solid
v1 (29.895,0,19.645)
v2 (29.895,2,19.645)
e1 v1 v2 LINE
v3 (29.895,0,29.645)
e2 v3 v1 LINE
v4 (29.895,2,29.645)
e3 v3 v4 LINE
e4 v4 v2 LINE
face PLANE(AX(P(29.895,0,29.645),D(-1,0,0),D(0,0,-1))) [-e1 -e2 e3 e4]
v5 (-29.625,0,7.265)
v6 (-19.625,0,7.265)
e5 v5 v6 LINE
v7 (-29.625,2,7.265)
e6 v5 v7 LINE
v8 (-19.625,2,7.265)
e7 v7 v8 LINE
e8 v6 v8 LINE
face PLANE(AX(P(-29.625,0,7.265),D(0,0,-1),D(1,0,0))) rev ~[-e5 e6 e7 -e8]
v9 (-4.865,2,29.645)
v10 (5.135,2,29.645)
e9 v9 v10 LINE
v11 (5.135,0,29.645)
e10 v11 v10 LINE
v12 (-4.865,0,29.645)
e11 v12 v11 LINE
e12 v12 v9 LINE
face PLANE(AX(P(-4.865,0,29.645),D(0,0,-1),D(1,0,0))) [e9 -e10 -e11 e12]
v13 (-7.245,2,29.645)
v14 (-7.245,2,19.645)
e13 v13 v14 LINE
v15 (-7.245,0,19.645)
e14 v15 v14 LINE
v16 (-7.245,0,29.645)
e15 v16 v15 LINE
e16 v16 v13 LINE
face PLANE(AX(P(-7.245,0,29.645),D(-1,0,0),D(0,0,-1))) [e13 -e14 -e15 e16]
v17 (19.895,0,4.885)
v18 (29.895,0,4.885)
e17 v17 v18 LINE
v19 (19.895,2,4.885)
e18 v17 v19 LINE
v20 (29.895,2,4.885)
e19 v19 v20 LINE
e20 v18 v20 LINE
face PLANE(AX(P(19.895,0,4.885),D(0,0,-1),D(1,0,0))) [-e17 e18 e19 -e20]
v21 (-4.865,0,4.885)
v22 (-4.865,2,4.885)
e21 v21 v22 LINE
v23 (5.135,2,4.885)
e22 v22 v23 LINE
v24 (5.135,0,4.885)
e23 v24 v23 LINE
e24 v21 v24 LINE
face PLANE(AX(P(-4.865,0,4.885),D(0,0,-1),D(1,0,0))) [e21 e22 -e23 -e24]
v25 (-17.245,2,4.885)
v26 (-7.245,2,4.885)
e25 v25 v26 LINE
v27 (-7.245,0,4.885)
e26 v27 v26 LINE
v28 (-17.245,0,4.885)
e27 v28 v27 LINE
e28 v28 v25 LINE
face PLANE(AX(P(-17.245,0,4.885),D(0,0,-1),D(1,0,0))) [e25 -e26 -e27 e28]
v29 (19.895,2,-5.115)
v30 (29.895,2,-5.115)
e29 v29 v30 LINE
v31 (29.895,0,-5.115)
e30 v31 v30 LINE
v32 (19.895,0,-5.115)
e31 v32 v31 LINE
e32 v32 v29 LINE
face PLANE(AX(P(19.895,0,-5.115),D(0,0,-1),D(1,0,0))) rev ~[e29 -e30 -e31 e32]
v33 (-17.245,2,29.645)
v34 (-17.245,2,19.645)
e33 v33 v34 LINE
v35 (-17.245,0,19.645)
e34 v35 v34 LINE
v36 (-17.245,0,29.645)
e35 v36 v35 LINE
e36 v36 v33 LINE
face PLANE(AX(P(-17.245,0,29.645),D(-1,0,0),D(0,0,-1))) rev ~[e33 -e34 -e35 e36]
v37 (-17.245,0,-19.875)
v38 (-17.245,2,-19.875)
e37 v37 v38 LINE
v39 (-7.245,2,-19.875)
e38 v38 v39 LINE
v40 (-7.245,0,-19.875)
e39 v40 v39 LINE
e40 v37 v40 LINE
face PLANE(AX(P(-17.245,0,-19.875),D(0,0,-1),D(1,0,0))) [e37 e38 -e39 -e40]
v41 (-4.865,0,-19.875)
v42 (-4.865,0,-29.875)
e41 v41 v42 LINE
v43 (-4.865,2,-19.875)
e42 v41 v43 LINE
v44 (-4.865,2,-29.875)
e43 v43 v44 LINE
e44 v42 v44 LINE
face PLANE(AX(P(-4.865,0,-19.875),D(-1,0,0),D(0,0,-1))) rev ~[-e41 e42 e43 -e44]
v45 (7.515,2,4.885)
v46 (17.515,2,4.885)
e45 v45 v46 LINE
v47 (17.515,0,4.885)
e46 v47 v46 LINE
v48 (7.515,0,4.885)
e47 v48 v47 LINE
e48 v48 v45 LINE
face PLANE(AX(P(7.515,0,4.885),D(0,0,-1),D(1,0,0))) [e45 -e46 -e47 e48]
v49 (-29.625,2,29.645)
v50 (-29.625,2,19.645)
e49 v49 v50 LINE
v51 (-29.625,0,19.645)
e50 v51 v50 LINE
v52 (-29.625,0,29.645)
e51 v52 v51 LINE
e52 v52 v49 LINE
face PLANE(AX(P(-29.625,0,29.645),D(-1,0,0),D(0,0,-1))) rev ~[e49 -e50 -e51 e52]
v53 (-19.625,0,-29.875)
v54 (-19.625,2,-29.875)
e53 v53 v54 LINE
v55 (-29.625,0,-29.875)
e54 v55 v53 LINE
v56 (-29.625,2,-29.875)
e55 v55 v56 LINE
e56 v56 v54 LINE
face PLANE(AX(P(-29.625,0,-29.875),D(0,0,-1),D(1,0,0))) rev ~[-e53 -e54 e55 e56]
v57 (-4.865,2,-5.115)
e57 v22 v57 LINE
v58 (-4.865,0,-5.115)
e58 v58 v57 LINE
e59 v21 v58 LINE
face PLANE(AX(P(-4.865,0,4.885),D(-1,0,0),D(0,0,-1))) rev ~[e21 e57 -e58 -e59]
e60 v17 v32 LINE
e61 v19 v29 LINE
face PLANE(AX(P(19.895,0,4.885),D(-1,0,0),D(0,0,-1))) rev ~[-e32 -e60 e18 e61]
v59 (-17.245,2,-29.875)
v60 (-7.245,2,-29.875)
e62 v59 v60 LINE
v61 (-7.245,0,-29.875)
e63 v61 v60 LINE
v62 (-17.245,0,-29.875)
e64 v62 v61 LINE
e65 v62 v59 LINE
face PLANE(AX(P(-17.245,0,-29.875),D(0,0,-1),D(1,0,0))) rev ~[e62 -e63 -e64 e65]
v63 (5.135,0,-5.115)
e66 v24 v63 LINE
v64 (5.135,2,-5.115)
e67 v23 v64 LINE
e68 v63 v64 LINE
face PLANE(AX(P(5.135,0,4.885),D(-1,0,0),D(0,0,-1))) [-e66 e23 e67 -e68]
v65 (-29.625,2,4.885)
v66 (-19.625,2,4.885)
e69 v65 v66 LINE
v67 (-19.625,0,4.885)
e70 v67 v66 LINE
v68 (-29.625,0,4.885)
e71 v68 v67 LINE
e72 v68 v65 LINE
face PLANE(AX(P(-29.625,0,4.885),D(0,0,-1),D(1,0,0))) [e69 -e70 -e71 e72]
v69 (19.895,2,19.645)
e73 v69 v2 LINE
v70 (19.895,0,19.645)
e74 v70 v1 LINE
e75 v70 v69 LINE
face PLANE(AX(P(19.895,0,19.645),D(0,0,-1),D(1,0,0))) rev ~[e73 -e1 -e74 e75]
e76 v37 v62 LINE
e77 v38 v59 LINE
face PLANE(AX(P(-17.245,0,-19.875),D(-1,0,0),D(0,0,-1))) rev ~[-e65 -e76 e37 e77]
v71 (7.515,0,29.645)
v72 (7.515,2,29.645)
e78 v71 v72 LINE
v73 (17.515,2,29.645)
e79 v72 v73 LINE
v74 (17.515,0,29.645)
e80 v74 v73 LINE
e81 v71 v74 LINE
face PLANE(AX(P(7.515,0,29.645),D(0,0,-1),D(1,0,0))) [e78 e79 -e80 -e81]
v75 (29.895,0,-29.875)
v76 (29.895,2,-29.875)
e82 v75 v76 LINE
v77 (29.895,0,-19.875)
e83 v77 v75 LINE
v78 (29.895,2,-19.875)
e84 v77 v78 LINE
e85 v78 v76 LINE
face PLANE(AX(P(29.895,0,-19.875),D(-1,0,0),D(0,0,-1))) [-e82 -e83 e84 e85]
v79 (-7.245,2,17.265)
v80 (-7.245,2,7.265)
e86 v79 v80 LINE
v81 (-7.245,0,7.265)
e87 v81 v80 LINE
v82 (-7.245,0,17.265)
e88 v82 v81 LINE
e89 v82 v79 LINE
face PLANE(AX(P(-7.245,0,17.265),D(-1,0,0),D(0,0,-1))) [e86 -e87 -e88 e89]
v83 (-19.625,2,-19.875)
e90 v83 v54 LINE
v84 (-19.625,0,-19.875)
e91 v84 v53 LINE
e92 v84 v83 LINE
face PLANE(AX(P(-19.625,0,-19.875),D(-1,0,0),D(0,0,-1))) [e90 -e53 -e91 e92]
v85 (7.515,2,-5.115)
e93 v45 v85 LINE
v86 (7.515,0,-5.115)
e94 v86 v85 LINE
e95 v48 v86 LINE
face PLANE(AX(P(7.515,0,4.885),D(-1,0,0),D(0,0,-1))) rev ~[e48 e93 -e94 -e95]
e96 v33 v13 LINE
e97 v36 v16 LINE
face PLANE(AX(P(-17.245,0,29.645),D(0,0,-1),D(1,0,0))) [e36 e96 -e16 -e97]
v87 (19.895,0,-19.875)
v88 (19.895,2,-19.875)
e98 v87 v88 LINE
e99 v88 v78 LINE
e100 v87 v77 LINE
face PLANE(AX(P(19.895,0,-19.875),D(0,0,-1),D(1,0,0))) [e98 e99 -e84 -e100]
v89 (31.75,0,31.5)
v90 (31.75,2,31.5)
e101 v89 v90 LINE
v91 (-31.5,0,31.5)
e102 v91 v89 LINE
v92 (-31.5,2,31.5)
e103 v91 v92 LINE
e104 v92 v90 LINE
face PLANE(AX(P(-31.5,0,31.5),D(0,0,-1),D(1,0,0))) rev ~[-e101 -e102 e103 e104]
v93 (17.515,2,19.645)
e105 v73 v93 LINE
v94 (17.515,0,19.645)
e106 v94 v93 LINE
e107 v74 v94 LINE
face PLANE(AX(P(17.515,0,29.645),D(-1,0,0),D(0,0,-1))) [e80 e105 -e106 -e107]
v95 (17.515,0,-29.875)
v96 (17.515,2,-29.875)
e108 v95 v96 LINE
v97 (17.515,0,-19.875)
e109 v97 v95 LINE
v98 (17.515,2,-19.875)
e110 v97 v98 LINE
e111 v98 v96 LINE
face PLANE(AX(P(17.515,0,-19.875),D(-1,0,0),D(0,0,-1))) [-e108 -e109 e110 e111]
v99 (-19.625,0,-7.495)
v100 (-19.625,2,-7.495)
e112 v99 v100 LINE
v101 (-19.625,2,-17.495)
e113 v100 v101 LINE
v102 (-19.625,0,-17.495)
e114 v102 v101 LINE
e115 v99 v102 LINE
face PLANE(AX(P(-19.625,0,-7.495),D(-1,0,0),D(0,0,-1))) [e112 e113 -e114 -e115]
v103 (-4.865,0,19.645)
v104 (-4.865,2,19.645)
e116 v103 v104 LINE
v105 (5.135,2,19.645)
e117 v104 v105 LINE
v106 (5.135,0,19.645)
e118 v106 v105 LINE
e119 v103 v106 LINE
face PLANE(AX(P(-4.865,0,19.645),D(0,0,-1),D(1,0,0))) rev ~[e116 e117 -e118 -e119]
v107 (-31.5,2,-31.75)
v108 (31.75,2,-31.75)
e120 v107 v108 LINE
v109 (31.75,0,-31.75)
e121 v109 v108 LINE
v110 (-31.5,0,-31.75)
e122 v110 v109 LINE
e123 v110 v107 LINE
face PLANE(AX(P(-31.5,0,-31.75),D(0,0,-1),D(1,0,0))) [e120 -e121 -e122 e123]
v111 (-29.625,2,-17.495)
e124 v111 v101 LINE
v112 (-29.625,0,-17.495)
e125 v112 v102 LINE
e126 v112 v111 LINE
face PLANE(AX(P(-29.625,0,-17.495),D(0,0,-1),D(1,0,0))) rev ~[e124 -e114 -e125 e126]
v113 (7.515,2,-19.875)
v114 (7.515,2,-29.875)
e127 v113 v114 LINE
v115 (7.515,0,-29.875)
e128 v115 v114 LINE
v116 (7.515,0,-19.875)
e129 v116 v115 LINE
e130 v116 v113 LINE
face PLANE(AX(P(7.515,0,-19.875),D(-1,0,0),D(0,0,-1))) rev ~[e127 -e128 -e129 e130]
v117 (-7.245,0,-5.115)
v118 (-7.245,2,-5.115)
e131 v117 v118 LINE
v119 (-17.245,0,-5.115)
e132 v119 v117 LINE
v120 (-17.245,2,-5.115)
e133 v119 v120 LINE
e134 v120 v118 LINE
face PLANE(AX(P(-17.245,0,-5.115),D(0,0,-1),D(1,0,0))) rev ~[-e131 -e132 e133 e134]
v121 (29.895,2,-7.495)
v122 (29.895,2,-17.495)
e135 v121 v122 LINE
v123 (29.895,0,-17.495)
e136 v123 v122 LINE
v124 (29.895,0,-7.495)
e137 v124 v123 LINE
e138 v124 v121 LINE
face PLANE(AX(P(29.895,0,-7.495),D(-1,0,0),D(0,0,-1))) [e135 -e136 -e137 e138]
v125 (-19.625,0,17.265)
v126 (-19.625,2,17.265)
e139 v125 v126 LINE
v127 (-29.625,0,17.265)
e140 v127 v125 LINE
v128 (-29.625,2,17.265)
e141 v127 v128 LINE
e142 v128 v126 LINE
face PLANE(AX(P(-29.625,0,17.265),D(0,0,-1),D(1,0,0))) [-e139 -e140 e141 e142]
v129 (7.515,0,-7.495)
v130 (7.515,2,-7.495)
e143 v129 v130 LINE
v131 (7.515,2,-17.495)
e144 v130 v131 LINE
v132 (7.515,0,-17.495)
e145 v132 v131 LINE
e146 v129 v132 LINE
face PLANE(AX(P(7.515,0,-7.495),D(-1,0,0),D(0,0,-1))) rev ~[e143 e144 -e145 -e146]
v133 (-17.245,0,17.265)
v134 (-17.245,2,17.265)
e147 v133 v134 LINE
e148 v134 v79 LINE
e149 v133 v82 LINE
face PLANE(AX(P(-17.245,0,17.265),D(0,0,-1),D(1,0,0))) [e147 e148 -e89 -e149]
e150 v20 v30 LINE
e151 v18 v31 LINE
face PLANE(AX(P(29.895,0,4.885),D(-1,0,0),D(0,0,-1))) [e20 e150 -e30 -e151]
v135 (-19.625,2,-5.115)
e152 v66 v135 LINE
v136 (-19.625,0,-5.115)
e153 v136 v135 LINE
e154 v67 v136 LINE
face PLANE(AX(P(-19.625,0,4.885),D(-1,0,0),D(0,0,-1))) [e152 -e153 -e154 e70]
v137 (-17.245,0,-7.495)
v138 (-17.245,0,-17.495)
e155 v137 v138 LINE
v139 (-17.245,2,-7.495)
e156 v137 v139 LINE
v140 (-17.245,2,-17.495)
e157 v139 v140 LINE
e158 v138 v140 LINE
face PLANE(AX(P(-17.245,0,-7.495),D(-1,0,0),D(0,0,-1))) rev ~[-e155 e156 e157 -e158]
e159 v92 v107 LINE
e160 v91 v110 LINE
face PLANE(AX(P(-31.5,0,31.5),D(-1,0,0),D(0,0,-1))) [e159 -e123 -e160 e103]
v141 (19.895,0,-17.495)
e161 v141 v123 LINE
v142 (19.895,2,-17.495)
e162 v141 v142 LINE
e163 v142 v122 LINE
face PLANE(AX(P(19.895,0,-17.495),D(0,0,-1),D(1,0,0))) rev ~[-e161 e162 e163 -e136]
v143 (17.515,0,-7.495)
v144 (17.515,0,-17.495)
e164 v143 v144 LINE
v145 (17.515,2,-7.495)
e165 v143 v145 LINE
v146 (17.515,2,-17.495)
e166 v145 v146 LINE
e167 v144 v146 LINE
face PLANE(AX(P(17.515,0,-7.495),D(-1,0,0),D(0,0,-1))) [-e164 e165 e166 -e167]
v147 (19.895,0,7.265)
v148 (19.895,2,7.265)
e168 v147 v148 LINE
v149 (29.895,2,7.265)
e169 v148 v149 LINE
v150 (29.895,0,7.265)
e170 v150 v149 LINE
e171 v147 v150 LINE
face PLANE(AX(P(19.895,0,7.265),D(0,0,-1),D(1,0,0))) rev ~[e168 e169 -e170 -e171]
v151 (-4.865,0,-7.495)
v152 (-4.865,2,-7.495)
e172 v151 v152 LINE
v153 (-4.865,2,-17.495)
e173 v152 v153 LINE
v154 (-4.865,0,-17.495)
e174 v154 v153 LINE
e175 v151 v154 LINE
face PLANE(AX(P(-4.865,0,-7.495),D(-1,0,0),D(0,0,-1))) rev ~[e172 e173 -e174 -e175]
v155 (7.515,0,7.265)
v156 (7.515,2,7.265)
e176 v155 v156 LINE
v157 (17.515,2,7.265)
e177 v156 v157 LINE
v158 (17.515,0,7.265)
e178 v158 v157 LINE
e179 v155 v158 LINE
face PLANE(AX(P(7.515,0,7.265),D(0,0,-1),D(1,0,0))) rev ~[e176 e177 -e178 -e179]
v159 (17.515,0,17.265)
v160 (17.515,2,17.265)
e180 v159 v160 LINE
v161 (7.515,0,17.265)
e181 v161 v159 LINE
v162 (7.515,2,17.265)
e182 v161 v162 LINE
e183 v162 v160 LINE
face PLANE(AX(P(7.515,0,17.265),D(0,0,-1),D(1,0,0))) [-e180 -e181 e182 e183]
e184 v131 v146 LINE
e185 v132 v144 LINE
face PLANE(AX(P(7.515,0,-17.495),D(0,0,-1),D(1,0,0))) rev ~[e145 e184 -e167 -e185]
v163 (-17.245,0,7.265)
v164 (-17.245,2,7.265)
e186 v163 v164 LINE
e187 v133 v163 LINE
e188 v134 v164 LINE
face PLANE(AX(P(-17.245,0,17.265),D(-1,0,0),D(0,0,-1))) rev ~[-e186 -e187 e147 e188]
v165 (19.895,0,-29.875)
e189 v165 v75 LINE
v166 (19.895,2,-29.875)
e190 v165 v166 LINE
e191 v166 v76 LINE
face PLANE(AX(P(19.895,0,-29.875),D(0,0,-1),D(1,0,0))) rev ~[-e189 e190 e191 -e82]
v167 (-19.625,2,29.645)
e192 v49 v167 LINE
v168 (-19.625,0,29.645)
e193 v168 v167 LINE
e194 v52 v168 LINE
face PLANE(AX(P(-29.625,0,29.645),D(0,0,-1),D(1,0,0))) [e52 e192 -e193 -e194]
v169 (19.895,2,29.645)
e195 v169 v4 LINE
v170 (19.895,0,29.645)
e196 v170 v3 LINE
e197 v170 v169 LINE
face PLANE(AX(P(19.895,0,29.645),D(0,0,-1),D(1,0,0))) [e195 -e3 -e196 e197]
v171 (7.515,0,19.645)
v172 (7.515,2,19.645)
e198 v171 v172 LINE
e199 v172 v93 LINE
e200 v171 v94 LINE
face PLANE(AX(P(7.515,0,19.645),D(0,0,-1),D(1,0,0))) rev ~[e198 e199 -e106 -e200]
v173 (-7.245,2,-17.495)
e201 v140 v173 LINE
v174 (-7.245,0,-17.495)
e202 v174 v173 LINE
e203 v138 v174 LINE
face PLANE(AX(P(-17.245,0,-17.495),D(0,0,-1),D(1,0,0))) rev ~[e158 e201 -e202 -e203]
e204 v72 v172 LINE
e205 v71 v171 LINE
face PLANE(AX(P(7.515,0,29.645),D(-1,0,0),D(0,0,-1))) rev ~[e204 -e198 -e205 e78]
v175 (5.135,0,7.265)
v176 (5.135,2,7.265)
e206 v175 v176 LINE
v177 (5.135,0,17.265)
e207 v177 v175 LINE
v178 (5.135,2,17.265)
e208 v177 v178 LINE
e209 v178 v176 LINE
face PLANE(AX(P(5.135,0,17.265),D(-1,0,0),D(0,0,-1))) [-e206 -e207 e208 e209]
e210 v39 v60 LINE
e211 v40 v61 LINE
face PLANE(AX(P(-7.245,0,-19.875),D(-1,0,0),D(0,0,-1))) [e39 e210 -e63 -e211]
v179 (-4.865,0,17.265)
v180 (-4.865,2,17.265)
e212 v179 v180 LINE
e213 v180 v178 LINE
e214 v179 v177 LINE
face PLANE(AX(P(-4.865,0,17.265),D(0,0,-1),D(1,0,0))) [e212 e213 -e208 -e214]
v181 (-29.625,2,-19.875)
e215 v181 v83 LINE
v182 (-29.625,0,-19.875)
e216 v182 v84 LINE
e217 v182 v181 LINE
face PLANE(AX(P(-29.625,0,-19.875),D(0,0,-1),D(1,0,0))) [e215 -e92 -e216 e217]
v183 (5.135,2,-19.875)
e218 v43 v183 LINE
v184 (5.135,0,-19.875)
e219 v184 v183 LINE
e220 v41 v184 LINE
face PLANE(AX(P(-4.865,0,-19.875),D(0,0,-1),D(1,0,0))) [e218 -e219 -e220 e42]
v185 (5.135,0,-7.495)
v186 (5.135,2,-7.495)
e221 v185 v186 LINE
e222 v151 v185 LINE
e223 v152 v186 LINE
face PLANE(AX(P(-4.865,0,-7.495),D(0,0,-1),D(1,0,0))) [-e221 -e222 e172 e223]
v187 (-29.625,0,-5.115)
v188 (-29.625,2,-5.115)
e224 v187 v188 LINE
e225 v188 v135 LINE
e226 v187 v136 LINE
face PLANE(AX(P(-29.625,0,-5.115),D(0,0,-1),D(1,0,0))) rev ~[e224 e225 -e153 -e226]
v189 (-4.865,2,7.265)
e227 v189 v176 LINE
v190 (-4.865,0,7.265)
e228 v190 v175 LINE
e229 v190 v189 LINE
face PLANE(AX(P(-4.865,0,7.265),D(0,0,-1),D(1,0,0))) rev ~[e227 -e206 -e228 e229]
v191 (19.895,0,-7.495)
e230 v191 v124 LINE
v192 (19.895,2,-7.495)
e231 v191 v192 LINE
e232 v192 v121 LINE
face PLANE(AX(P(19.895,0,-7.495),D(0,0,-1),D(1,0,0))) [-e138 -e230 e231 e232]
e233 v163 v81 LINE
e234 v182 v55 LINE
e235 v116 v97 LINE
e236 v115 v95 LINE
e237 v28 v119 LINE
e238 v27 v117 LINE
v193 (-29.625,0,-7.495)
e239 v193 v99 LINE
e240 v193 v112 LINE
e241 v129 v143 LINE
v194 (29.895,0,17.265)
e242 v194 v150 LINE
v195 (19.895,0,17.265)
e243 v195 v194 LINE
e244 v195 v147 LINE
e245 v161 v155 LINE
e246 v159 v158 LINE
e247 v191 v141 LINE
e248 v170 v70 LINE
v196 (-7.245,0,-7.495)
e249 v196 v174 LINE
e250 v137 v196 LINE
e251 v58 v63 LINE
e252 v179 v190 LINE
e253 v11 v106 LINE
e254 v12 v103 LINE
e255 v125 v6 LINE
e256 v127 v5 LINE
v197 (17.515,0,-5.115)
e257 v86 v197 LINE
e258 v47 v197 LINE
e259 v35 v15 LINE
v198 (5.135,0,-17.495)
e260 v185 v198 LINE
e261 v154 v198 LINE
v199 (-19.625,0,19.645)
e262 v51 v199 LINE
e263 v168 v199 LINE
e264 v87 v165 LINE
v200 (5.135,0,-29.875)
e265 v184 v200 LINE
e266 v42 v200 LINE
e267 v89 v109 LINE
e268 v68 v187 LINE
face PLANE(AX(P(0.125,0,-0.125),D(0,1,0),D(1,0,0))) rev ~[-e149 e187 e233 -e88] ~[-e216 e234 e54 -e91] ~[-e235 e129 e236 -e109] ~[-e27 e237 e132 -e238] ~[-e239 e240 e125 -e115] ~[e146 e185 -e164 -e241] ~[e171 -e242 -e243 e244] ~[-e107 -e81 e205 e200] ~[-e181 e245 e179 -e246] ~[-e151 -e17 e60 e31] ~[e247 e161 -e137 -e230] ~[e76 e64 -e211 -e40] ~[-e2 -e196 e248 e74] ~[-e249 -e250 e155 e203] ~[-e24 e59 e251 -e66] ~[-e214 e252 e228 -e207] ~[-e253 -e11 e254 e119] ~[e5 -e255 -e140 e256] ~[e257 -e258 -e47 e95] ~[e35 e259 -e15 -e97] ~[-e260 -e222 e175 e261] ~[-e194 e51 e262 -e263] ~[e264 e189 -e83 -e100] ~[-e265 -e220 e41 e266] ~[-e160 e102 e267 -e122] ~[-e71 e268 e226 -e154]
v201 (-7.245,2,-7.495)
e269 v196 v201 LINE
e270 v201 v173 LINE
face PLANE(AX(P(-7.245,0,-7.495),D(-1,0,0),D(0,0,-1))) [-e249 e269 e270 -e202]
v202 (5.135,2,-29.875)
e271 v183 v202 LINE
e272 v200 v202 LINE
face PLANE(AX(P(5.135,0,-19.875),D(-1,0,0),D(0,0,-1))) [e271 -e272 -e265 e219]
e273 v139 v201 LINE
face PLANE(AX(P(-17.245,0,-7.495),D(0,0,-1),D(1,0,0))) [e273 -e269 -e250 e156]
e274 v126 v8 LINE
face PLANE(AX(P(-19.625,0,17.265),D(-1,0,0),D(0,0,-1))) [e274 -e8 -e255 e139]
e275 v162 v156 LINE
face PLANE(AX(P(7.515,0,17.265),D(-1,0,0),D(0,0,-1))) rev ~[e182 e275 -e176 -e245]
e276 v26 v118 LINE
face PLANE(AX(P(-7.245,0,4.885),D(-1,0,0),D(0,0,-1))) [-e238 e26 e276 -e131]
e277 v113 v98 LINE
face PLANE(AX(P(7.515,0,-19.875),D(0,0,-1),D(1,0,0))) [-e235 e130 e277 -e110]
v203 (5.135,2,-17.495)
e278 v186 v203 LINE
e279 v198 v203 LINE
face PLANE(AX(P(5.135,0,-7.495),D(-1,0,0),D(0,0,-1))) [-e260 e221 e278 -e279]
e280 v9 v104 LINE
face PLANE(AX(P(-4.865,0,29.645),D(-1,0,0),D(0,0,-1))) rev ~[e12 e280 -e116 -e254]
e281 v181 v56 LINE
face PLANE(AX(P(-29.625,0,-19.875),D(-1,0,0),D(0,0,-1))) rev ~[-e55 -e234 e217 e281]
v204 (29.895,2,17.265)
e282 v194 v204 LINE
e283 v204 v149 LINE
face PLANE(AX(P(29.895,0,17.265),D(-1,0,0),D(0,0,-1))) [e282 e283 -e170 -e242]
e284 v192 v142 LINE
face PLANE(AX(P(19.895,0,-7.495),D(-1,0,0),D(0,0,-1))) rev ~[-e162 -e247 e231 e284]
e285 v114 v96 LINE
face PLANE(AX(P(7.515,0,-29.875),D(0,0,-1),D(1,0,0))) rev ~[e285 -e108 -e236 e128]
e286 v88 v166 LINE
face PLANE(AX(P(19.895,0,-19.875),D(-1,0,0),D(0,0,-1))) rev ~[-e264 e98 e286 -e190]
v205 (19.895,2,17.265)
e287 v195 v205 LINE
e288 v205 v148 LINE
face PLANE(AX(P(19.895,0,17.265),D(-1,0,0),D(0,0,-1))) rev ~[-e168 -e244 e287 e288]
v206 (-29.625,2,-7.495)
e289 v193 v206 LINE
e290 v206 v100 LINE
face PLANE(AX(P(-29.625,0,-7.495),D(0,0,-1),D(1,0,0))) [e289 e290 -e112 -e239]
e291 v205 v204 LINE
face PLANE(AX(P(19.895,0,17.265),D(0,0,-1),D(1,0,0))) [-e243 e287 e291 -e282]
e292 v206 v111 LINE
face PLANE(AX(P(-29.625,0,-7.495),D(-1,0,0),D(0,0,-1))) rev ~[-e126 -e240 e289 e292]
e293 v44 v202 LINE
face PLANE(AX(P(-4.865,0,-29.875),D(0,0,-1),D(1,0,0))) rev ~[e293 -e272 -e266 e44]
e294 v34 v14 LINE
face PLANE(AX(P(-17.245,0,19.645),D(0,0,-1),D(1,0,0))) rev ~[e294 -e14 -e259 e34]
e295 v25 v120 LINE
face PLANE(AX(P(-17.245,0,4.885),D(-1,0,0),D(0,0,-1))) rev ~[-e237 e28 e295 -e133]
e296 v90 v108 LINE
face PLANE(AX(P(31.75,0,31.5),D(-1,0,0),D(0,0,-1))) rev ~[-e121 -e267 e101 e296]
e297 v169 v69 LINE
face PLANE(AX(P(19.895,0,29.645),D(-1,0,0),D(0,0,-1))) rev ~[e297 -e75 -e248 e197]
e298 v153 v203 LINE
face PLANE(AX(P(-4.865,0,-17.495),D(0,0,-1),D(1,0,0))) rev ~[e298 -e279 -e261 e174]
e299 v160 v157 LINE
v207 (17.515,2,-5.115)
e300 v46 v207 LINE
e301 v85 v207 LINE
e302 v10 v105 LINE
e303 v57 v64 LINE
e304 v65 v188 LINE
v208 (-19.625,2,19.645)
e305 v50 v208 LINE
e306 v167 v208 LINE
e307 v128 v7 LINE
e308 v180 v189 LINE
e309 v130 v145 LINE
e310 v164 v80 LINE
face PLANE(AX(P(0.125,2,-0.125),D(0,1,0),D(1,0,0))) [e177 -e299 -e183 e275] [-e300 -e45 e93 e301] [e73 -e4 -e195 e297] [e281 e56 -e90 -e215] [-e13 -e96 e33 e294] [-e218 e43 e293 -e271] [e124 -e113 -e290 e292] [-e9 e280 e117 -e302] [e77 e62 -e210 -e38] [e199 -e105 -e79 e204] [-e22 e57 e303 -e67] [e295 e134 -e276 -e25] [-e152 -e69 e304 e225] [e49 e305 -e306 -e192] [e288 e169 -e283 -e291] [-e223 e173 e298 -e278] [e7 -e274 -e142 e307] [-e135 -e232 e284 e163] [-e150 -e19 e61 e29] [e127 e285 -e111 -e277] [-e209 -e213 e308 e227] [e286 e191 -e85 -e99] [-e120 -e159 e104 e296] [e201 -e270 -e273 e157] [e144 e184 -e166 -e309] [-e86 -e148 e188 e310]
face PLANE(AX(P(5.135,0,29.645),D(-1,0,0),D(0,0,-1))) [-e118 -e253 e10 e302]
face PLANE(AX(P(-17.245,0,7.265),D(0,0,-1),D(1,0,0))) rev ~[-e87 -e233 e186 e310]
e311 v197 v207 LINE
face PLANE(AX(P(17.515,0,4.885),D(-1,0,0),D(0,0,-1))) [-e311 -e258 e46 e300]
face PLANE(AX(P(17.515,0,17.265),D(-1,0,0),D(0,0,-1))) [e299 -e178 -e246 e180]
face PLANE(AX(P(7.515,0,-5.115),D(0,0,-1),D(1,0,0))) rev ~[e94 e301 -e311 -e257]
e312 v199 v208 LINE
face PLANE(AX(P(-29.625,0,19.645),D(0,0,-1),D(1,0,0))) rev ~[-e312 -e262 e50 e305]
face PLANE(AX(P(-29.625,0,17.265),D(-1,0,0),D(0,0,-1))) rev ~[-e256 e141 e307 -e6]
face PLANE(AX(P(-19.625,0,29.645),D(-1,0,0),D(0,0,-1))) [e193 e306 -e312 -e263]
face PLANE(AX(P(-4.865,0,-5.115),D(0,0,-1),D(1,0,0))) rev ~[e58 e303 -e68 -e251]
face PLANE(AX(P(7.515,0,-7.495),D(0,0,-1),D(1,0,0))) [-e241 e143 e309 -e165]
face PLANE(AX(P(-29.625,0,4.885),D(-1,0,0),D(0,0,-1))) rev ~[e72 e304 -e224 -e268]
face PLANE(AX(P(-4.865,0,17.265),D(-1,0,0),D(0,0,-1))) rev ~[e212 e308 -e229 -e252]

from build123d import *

# Parameters (mm, degrees)
SKETCH3_W           = 63.25
SKETCH3_H           = 63.25
SKETCH3_W_2         = 10
SKETCH3_H_2         = 10
BOSS_EXTRUDE3_DEPTH = 2


with BuildPart() as part:
    # Sketch3 → Boss-Extrude3 (new body)
    with BuildSketch(Plane(origin=(0, 0, 0), x_dir=(1, 0, 0), z_dir=(0, 1, 0))):
        with Locations((0.125, 0.125)):
            Rectangle(SKETCH3_W, SKETCH3_H)
        with Locations((-12.245, 24.875)):
            Rectangle(SKETCH3_W_2, SKETCH3_H_2, mode=Mode.SUBTRACT)
        with Locations((-24.625, 24.875)):
            Rectangle(SKETCH3_W_2, SKETCH3_H_2, mode=Mode.SUBTRACT)
        with Locations((0.135, 24.875)):
            Rectangle(SKETCH3_W_2, SKETCH3_H_2, mode=Mode.SUBTRACT)
        with Locations((12.515, 24.875)):
            Rectangle(SKETCH3_W_2, SKETCH3_H_2, mode=Mode.SUBTRACT)
        with Locations((24.895, 24.875)):
            Rectangle(SKETCH3_W_2, SKETCH3_H_2, mode=Mode.SUBTRACT)
        with Locations((-12.245, 12.495)):
            Rectangle(SKETCH3_W_2, SKETCH3_H_2, mode=Mode.SUBTRACT)
        with Locations((0.135, 12.495)):
            Rectangle(SKETCH3_W_2, SKETCH3_H_2, mode=Mode.SUBTRACT)
        with Locations((12.515, 12.495)):
            Rectangle(SKETCH3_W_2, SKETCH3_H_2, mode=Mode.SUBTRACT)
        with Locations((24.895, 12.495)):
            Rectangle(SKETCH3_W_2, SKETCH3_H_2, mode=Mode.SUBTRACT)
        with Locations((-12.245, 0.115)):
            Rectangle(SKETCH3_W_2, SKETCH3_H_2, mode=Mode.SUBTRACT)
        with Locations((0.135, 0.115)):
            Rectangle(SKETCH3_W_2, SKETCH3_H_2, mode=Mode.SUBTRACT)
        with Locations((12.515, 0.115)):
            Rectangle(SKETCH3_W_2, SKETCH3_H_2, mode=Mode.SUBTRACT)
        with Locations((24.895, 0.115)):
            Rectangle(SKETCH3_W_2, SKETCH3_H_2, mode=Mode.SUBTRACT)
        with Locations((-12.245, -12.265)):
            Rectangle(SKETCH3_W_2, SKETCH3_H_2, mode=Mode.SUBTRACT)
        with Locations((0.135, -12.265)):
            Rectangle(SKETCH3_W_2, SKETCH3_H_2, mode=Mode.SUBTRACT)
        with Locations((12.515, -12.265)):
            Rectangle(SKETCH3_W_2, SKETCH3_H_2, mode=Mode.SUBTRACT)
        with Locations((24.895, -12.265)):
            Rectangle(SKETCH3_W_2, SKETCH3_H_2, mode=Mode.SUBTRACT)
        with Locations((-12.245, -24.645)):
            Rectangle(SKETCH3_W_2, SKETCH3_H_2, mode=Mode.SUBTRACT)
        with Locations((0.135, -24.645)):
            Rectangle(SKETCH3_W_2, SKETCH3_H_2, mode=Mode.SUBTRACT)
        with Locations((12.515, -24.645)):
            Rectangle(SKETCH3_W_2, SKETCH3_H_2, mode=Mode.SUBTRACT)
        with Locations((24.895, -24.645)):
            Rectangle(SKETCH3_W_2, SKETCH3_H_2, mode=Mode.SUBTRACT)
        with Locations((-24.625, 12.495)):
            Rectangle(SKETCH3_W_2, SKETCH3_H_2, mode=Mode.SUBTRACT)
        with Locations((-24.625, 0.115)):
            Rectangle(SKETCH3_W_2, SKETCH3_H_2, mode=Mode.SUBTRACT)
        with Locations((-24.625, -12.265)):
            Rectangle(SKETCH3_W_2, SKETCH3_H_2, mode=Mode.SUBTRACT)
        with Locations((-24.625, -24.645)):
            Rectangle(SKETCH3_W_2, SKETCH3_H_2, mode=Mode.SUBTRACT)
    extrude(amount=BOSS_EXTRUDE3_DEPTH)


solid = part.part
